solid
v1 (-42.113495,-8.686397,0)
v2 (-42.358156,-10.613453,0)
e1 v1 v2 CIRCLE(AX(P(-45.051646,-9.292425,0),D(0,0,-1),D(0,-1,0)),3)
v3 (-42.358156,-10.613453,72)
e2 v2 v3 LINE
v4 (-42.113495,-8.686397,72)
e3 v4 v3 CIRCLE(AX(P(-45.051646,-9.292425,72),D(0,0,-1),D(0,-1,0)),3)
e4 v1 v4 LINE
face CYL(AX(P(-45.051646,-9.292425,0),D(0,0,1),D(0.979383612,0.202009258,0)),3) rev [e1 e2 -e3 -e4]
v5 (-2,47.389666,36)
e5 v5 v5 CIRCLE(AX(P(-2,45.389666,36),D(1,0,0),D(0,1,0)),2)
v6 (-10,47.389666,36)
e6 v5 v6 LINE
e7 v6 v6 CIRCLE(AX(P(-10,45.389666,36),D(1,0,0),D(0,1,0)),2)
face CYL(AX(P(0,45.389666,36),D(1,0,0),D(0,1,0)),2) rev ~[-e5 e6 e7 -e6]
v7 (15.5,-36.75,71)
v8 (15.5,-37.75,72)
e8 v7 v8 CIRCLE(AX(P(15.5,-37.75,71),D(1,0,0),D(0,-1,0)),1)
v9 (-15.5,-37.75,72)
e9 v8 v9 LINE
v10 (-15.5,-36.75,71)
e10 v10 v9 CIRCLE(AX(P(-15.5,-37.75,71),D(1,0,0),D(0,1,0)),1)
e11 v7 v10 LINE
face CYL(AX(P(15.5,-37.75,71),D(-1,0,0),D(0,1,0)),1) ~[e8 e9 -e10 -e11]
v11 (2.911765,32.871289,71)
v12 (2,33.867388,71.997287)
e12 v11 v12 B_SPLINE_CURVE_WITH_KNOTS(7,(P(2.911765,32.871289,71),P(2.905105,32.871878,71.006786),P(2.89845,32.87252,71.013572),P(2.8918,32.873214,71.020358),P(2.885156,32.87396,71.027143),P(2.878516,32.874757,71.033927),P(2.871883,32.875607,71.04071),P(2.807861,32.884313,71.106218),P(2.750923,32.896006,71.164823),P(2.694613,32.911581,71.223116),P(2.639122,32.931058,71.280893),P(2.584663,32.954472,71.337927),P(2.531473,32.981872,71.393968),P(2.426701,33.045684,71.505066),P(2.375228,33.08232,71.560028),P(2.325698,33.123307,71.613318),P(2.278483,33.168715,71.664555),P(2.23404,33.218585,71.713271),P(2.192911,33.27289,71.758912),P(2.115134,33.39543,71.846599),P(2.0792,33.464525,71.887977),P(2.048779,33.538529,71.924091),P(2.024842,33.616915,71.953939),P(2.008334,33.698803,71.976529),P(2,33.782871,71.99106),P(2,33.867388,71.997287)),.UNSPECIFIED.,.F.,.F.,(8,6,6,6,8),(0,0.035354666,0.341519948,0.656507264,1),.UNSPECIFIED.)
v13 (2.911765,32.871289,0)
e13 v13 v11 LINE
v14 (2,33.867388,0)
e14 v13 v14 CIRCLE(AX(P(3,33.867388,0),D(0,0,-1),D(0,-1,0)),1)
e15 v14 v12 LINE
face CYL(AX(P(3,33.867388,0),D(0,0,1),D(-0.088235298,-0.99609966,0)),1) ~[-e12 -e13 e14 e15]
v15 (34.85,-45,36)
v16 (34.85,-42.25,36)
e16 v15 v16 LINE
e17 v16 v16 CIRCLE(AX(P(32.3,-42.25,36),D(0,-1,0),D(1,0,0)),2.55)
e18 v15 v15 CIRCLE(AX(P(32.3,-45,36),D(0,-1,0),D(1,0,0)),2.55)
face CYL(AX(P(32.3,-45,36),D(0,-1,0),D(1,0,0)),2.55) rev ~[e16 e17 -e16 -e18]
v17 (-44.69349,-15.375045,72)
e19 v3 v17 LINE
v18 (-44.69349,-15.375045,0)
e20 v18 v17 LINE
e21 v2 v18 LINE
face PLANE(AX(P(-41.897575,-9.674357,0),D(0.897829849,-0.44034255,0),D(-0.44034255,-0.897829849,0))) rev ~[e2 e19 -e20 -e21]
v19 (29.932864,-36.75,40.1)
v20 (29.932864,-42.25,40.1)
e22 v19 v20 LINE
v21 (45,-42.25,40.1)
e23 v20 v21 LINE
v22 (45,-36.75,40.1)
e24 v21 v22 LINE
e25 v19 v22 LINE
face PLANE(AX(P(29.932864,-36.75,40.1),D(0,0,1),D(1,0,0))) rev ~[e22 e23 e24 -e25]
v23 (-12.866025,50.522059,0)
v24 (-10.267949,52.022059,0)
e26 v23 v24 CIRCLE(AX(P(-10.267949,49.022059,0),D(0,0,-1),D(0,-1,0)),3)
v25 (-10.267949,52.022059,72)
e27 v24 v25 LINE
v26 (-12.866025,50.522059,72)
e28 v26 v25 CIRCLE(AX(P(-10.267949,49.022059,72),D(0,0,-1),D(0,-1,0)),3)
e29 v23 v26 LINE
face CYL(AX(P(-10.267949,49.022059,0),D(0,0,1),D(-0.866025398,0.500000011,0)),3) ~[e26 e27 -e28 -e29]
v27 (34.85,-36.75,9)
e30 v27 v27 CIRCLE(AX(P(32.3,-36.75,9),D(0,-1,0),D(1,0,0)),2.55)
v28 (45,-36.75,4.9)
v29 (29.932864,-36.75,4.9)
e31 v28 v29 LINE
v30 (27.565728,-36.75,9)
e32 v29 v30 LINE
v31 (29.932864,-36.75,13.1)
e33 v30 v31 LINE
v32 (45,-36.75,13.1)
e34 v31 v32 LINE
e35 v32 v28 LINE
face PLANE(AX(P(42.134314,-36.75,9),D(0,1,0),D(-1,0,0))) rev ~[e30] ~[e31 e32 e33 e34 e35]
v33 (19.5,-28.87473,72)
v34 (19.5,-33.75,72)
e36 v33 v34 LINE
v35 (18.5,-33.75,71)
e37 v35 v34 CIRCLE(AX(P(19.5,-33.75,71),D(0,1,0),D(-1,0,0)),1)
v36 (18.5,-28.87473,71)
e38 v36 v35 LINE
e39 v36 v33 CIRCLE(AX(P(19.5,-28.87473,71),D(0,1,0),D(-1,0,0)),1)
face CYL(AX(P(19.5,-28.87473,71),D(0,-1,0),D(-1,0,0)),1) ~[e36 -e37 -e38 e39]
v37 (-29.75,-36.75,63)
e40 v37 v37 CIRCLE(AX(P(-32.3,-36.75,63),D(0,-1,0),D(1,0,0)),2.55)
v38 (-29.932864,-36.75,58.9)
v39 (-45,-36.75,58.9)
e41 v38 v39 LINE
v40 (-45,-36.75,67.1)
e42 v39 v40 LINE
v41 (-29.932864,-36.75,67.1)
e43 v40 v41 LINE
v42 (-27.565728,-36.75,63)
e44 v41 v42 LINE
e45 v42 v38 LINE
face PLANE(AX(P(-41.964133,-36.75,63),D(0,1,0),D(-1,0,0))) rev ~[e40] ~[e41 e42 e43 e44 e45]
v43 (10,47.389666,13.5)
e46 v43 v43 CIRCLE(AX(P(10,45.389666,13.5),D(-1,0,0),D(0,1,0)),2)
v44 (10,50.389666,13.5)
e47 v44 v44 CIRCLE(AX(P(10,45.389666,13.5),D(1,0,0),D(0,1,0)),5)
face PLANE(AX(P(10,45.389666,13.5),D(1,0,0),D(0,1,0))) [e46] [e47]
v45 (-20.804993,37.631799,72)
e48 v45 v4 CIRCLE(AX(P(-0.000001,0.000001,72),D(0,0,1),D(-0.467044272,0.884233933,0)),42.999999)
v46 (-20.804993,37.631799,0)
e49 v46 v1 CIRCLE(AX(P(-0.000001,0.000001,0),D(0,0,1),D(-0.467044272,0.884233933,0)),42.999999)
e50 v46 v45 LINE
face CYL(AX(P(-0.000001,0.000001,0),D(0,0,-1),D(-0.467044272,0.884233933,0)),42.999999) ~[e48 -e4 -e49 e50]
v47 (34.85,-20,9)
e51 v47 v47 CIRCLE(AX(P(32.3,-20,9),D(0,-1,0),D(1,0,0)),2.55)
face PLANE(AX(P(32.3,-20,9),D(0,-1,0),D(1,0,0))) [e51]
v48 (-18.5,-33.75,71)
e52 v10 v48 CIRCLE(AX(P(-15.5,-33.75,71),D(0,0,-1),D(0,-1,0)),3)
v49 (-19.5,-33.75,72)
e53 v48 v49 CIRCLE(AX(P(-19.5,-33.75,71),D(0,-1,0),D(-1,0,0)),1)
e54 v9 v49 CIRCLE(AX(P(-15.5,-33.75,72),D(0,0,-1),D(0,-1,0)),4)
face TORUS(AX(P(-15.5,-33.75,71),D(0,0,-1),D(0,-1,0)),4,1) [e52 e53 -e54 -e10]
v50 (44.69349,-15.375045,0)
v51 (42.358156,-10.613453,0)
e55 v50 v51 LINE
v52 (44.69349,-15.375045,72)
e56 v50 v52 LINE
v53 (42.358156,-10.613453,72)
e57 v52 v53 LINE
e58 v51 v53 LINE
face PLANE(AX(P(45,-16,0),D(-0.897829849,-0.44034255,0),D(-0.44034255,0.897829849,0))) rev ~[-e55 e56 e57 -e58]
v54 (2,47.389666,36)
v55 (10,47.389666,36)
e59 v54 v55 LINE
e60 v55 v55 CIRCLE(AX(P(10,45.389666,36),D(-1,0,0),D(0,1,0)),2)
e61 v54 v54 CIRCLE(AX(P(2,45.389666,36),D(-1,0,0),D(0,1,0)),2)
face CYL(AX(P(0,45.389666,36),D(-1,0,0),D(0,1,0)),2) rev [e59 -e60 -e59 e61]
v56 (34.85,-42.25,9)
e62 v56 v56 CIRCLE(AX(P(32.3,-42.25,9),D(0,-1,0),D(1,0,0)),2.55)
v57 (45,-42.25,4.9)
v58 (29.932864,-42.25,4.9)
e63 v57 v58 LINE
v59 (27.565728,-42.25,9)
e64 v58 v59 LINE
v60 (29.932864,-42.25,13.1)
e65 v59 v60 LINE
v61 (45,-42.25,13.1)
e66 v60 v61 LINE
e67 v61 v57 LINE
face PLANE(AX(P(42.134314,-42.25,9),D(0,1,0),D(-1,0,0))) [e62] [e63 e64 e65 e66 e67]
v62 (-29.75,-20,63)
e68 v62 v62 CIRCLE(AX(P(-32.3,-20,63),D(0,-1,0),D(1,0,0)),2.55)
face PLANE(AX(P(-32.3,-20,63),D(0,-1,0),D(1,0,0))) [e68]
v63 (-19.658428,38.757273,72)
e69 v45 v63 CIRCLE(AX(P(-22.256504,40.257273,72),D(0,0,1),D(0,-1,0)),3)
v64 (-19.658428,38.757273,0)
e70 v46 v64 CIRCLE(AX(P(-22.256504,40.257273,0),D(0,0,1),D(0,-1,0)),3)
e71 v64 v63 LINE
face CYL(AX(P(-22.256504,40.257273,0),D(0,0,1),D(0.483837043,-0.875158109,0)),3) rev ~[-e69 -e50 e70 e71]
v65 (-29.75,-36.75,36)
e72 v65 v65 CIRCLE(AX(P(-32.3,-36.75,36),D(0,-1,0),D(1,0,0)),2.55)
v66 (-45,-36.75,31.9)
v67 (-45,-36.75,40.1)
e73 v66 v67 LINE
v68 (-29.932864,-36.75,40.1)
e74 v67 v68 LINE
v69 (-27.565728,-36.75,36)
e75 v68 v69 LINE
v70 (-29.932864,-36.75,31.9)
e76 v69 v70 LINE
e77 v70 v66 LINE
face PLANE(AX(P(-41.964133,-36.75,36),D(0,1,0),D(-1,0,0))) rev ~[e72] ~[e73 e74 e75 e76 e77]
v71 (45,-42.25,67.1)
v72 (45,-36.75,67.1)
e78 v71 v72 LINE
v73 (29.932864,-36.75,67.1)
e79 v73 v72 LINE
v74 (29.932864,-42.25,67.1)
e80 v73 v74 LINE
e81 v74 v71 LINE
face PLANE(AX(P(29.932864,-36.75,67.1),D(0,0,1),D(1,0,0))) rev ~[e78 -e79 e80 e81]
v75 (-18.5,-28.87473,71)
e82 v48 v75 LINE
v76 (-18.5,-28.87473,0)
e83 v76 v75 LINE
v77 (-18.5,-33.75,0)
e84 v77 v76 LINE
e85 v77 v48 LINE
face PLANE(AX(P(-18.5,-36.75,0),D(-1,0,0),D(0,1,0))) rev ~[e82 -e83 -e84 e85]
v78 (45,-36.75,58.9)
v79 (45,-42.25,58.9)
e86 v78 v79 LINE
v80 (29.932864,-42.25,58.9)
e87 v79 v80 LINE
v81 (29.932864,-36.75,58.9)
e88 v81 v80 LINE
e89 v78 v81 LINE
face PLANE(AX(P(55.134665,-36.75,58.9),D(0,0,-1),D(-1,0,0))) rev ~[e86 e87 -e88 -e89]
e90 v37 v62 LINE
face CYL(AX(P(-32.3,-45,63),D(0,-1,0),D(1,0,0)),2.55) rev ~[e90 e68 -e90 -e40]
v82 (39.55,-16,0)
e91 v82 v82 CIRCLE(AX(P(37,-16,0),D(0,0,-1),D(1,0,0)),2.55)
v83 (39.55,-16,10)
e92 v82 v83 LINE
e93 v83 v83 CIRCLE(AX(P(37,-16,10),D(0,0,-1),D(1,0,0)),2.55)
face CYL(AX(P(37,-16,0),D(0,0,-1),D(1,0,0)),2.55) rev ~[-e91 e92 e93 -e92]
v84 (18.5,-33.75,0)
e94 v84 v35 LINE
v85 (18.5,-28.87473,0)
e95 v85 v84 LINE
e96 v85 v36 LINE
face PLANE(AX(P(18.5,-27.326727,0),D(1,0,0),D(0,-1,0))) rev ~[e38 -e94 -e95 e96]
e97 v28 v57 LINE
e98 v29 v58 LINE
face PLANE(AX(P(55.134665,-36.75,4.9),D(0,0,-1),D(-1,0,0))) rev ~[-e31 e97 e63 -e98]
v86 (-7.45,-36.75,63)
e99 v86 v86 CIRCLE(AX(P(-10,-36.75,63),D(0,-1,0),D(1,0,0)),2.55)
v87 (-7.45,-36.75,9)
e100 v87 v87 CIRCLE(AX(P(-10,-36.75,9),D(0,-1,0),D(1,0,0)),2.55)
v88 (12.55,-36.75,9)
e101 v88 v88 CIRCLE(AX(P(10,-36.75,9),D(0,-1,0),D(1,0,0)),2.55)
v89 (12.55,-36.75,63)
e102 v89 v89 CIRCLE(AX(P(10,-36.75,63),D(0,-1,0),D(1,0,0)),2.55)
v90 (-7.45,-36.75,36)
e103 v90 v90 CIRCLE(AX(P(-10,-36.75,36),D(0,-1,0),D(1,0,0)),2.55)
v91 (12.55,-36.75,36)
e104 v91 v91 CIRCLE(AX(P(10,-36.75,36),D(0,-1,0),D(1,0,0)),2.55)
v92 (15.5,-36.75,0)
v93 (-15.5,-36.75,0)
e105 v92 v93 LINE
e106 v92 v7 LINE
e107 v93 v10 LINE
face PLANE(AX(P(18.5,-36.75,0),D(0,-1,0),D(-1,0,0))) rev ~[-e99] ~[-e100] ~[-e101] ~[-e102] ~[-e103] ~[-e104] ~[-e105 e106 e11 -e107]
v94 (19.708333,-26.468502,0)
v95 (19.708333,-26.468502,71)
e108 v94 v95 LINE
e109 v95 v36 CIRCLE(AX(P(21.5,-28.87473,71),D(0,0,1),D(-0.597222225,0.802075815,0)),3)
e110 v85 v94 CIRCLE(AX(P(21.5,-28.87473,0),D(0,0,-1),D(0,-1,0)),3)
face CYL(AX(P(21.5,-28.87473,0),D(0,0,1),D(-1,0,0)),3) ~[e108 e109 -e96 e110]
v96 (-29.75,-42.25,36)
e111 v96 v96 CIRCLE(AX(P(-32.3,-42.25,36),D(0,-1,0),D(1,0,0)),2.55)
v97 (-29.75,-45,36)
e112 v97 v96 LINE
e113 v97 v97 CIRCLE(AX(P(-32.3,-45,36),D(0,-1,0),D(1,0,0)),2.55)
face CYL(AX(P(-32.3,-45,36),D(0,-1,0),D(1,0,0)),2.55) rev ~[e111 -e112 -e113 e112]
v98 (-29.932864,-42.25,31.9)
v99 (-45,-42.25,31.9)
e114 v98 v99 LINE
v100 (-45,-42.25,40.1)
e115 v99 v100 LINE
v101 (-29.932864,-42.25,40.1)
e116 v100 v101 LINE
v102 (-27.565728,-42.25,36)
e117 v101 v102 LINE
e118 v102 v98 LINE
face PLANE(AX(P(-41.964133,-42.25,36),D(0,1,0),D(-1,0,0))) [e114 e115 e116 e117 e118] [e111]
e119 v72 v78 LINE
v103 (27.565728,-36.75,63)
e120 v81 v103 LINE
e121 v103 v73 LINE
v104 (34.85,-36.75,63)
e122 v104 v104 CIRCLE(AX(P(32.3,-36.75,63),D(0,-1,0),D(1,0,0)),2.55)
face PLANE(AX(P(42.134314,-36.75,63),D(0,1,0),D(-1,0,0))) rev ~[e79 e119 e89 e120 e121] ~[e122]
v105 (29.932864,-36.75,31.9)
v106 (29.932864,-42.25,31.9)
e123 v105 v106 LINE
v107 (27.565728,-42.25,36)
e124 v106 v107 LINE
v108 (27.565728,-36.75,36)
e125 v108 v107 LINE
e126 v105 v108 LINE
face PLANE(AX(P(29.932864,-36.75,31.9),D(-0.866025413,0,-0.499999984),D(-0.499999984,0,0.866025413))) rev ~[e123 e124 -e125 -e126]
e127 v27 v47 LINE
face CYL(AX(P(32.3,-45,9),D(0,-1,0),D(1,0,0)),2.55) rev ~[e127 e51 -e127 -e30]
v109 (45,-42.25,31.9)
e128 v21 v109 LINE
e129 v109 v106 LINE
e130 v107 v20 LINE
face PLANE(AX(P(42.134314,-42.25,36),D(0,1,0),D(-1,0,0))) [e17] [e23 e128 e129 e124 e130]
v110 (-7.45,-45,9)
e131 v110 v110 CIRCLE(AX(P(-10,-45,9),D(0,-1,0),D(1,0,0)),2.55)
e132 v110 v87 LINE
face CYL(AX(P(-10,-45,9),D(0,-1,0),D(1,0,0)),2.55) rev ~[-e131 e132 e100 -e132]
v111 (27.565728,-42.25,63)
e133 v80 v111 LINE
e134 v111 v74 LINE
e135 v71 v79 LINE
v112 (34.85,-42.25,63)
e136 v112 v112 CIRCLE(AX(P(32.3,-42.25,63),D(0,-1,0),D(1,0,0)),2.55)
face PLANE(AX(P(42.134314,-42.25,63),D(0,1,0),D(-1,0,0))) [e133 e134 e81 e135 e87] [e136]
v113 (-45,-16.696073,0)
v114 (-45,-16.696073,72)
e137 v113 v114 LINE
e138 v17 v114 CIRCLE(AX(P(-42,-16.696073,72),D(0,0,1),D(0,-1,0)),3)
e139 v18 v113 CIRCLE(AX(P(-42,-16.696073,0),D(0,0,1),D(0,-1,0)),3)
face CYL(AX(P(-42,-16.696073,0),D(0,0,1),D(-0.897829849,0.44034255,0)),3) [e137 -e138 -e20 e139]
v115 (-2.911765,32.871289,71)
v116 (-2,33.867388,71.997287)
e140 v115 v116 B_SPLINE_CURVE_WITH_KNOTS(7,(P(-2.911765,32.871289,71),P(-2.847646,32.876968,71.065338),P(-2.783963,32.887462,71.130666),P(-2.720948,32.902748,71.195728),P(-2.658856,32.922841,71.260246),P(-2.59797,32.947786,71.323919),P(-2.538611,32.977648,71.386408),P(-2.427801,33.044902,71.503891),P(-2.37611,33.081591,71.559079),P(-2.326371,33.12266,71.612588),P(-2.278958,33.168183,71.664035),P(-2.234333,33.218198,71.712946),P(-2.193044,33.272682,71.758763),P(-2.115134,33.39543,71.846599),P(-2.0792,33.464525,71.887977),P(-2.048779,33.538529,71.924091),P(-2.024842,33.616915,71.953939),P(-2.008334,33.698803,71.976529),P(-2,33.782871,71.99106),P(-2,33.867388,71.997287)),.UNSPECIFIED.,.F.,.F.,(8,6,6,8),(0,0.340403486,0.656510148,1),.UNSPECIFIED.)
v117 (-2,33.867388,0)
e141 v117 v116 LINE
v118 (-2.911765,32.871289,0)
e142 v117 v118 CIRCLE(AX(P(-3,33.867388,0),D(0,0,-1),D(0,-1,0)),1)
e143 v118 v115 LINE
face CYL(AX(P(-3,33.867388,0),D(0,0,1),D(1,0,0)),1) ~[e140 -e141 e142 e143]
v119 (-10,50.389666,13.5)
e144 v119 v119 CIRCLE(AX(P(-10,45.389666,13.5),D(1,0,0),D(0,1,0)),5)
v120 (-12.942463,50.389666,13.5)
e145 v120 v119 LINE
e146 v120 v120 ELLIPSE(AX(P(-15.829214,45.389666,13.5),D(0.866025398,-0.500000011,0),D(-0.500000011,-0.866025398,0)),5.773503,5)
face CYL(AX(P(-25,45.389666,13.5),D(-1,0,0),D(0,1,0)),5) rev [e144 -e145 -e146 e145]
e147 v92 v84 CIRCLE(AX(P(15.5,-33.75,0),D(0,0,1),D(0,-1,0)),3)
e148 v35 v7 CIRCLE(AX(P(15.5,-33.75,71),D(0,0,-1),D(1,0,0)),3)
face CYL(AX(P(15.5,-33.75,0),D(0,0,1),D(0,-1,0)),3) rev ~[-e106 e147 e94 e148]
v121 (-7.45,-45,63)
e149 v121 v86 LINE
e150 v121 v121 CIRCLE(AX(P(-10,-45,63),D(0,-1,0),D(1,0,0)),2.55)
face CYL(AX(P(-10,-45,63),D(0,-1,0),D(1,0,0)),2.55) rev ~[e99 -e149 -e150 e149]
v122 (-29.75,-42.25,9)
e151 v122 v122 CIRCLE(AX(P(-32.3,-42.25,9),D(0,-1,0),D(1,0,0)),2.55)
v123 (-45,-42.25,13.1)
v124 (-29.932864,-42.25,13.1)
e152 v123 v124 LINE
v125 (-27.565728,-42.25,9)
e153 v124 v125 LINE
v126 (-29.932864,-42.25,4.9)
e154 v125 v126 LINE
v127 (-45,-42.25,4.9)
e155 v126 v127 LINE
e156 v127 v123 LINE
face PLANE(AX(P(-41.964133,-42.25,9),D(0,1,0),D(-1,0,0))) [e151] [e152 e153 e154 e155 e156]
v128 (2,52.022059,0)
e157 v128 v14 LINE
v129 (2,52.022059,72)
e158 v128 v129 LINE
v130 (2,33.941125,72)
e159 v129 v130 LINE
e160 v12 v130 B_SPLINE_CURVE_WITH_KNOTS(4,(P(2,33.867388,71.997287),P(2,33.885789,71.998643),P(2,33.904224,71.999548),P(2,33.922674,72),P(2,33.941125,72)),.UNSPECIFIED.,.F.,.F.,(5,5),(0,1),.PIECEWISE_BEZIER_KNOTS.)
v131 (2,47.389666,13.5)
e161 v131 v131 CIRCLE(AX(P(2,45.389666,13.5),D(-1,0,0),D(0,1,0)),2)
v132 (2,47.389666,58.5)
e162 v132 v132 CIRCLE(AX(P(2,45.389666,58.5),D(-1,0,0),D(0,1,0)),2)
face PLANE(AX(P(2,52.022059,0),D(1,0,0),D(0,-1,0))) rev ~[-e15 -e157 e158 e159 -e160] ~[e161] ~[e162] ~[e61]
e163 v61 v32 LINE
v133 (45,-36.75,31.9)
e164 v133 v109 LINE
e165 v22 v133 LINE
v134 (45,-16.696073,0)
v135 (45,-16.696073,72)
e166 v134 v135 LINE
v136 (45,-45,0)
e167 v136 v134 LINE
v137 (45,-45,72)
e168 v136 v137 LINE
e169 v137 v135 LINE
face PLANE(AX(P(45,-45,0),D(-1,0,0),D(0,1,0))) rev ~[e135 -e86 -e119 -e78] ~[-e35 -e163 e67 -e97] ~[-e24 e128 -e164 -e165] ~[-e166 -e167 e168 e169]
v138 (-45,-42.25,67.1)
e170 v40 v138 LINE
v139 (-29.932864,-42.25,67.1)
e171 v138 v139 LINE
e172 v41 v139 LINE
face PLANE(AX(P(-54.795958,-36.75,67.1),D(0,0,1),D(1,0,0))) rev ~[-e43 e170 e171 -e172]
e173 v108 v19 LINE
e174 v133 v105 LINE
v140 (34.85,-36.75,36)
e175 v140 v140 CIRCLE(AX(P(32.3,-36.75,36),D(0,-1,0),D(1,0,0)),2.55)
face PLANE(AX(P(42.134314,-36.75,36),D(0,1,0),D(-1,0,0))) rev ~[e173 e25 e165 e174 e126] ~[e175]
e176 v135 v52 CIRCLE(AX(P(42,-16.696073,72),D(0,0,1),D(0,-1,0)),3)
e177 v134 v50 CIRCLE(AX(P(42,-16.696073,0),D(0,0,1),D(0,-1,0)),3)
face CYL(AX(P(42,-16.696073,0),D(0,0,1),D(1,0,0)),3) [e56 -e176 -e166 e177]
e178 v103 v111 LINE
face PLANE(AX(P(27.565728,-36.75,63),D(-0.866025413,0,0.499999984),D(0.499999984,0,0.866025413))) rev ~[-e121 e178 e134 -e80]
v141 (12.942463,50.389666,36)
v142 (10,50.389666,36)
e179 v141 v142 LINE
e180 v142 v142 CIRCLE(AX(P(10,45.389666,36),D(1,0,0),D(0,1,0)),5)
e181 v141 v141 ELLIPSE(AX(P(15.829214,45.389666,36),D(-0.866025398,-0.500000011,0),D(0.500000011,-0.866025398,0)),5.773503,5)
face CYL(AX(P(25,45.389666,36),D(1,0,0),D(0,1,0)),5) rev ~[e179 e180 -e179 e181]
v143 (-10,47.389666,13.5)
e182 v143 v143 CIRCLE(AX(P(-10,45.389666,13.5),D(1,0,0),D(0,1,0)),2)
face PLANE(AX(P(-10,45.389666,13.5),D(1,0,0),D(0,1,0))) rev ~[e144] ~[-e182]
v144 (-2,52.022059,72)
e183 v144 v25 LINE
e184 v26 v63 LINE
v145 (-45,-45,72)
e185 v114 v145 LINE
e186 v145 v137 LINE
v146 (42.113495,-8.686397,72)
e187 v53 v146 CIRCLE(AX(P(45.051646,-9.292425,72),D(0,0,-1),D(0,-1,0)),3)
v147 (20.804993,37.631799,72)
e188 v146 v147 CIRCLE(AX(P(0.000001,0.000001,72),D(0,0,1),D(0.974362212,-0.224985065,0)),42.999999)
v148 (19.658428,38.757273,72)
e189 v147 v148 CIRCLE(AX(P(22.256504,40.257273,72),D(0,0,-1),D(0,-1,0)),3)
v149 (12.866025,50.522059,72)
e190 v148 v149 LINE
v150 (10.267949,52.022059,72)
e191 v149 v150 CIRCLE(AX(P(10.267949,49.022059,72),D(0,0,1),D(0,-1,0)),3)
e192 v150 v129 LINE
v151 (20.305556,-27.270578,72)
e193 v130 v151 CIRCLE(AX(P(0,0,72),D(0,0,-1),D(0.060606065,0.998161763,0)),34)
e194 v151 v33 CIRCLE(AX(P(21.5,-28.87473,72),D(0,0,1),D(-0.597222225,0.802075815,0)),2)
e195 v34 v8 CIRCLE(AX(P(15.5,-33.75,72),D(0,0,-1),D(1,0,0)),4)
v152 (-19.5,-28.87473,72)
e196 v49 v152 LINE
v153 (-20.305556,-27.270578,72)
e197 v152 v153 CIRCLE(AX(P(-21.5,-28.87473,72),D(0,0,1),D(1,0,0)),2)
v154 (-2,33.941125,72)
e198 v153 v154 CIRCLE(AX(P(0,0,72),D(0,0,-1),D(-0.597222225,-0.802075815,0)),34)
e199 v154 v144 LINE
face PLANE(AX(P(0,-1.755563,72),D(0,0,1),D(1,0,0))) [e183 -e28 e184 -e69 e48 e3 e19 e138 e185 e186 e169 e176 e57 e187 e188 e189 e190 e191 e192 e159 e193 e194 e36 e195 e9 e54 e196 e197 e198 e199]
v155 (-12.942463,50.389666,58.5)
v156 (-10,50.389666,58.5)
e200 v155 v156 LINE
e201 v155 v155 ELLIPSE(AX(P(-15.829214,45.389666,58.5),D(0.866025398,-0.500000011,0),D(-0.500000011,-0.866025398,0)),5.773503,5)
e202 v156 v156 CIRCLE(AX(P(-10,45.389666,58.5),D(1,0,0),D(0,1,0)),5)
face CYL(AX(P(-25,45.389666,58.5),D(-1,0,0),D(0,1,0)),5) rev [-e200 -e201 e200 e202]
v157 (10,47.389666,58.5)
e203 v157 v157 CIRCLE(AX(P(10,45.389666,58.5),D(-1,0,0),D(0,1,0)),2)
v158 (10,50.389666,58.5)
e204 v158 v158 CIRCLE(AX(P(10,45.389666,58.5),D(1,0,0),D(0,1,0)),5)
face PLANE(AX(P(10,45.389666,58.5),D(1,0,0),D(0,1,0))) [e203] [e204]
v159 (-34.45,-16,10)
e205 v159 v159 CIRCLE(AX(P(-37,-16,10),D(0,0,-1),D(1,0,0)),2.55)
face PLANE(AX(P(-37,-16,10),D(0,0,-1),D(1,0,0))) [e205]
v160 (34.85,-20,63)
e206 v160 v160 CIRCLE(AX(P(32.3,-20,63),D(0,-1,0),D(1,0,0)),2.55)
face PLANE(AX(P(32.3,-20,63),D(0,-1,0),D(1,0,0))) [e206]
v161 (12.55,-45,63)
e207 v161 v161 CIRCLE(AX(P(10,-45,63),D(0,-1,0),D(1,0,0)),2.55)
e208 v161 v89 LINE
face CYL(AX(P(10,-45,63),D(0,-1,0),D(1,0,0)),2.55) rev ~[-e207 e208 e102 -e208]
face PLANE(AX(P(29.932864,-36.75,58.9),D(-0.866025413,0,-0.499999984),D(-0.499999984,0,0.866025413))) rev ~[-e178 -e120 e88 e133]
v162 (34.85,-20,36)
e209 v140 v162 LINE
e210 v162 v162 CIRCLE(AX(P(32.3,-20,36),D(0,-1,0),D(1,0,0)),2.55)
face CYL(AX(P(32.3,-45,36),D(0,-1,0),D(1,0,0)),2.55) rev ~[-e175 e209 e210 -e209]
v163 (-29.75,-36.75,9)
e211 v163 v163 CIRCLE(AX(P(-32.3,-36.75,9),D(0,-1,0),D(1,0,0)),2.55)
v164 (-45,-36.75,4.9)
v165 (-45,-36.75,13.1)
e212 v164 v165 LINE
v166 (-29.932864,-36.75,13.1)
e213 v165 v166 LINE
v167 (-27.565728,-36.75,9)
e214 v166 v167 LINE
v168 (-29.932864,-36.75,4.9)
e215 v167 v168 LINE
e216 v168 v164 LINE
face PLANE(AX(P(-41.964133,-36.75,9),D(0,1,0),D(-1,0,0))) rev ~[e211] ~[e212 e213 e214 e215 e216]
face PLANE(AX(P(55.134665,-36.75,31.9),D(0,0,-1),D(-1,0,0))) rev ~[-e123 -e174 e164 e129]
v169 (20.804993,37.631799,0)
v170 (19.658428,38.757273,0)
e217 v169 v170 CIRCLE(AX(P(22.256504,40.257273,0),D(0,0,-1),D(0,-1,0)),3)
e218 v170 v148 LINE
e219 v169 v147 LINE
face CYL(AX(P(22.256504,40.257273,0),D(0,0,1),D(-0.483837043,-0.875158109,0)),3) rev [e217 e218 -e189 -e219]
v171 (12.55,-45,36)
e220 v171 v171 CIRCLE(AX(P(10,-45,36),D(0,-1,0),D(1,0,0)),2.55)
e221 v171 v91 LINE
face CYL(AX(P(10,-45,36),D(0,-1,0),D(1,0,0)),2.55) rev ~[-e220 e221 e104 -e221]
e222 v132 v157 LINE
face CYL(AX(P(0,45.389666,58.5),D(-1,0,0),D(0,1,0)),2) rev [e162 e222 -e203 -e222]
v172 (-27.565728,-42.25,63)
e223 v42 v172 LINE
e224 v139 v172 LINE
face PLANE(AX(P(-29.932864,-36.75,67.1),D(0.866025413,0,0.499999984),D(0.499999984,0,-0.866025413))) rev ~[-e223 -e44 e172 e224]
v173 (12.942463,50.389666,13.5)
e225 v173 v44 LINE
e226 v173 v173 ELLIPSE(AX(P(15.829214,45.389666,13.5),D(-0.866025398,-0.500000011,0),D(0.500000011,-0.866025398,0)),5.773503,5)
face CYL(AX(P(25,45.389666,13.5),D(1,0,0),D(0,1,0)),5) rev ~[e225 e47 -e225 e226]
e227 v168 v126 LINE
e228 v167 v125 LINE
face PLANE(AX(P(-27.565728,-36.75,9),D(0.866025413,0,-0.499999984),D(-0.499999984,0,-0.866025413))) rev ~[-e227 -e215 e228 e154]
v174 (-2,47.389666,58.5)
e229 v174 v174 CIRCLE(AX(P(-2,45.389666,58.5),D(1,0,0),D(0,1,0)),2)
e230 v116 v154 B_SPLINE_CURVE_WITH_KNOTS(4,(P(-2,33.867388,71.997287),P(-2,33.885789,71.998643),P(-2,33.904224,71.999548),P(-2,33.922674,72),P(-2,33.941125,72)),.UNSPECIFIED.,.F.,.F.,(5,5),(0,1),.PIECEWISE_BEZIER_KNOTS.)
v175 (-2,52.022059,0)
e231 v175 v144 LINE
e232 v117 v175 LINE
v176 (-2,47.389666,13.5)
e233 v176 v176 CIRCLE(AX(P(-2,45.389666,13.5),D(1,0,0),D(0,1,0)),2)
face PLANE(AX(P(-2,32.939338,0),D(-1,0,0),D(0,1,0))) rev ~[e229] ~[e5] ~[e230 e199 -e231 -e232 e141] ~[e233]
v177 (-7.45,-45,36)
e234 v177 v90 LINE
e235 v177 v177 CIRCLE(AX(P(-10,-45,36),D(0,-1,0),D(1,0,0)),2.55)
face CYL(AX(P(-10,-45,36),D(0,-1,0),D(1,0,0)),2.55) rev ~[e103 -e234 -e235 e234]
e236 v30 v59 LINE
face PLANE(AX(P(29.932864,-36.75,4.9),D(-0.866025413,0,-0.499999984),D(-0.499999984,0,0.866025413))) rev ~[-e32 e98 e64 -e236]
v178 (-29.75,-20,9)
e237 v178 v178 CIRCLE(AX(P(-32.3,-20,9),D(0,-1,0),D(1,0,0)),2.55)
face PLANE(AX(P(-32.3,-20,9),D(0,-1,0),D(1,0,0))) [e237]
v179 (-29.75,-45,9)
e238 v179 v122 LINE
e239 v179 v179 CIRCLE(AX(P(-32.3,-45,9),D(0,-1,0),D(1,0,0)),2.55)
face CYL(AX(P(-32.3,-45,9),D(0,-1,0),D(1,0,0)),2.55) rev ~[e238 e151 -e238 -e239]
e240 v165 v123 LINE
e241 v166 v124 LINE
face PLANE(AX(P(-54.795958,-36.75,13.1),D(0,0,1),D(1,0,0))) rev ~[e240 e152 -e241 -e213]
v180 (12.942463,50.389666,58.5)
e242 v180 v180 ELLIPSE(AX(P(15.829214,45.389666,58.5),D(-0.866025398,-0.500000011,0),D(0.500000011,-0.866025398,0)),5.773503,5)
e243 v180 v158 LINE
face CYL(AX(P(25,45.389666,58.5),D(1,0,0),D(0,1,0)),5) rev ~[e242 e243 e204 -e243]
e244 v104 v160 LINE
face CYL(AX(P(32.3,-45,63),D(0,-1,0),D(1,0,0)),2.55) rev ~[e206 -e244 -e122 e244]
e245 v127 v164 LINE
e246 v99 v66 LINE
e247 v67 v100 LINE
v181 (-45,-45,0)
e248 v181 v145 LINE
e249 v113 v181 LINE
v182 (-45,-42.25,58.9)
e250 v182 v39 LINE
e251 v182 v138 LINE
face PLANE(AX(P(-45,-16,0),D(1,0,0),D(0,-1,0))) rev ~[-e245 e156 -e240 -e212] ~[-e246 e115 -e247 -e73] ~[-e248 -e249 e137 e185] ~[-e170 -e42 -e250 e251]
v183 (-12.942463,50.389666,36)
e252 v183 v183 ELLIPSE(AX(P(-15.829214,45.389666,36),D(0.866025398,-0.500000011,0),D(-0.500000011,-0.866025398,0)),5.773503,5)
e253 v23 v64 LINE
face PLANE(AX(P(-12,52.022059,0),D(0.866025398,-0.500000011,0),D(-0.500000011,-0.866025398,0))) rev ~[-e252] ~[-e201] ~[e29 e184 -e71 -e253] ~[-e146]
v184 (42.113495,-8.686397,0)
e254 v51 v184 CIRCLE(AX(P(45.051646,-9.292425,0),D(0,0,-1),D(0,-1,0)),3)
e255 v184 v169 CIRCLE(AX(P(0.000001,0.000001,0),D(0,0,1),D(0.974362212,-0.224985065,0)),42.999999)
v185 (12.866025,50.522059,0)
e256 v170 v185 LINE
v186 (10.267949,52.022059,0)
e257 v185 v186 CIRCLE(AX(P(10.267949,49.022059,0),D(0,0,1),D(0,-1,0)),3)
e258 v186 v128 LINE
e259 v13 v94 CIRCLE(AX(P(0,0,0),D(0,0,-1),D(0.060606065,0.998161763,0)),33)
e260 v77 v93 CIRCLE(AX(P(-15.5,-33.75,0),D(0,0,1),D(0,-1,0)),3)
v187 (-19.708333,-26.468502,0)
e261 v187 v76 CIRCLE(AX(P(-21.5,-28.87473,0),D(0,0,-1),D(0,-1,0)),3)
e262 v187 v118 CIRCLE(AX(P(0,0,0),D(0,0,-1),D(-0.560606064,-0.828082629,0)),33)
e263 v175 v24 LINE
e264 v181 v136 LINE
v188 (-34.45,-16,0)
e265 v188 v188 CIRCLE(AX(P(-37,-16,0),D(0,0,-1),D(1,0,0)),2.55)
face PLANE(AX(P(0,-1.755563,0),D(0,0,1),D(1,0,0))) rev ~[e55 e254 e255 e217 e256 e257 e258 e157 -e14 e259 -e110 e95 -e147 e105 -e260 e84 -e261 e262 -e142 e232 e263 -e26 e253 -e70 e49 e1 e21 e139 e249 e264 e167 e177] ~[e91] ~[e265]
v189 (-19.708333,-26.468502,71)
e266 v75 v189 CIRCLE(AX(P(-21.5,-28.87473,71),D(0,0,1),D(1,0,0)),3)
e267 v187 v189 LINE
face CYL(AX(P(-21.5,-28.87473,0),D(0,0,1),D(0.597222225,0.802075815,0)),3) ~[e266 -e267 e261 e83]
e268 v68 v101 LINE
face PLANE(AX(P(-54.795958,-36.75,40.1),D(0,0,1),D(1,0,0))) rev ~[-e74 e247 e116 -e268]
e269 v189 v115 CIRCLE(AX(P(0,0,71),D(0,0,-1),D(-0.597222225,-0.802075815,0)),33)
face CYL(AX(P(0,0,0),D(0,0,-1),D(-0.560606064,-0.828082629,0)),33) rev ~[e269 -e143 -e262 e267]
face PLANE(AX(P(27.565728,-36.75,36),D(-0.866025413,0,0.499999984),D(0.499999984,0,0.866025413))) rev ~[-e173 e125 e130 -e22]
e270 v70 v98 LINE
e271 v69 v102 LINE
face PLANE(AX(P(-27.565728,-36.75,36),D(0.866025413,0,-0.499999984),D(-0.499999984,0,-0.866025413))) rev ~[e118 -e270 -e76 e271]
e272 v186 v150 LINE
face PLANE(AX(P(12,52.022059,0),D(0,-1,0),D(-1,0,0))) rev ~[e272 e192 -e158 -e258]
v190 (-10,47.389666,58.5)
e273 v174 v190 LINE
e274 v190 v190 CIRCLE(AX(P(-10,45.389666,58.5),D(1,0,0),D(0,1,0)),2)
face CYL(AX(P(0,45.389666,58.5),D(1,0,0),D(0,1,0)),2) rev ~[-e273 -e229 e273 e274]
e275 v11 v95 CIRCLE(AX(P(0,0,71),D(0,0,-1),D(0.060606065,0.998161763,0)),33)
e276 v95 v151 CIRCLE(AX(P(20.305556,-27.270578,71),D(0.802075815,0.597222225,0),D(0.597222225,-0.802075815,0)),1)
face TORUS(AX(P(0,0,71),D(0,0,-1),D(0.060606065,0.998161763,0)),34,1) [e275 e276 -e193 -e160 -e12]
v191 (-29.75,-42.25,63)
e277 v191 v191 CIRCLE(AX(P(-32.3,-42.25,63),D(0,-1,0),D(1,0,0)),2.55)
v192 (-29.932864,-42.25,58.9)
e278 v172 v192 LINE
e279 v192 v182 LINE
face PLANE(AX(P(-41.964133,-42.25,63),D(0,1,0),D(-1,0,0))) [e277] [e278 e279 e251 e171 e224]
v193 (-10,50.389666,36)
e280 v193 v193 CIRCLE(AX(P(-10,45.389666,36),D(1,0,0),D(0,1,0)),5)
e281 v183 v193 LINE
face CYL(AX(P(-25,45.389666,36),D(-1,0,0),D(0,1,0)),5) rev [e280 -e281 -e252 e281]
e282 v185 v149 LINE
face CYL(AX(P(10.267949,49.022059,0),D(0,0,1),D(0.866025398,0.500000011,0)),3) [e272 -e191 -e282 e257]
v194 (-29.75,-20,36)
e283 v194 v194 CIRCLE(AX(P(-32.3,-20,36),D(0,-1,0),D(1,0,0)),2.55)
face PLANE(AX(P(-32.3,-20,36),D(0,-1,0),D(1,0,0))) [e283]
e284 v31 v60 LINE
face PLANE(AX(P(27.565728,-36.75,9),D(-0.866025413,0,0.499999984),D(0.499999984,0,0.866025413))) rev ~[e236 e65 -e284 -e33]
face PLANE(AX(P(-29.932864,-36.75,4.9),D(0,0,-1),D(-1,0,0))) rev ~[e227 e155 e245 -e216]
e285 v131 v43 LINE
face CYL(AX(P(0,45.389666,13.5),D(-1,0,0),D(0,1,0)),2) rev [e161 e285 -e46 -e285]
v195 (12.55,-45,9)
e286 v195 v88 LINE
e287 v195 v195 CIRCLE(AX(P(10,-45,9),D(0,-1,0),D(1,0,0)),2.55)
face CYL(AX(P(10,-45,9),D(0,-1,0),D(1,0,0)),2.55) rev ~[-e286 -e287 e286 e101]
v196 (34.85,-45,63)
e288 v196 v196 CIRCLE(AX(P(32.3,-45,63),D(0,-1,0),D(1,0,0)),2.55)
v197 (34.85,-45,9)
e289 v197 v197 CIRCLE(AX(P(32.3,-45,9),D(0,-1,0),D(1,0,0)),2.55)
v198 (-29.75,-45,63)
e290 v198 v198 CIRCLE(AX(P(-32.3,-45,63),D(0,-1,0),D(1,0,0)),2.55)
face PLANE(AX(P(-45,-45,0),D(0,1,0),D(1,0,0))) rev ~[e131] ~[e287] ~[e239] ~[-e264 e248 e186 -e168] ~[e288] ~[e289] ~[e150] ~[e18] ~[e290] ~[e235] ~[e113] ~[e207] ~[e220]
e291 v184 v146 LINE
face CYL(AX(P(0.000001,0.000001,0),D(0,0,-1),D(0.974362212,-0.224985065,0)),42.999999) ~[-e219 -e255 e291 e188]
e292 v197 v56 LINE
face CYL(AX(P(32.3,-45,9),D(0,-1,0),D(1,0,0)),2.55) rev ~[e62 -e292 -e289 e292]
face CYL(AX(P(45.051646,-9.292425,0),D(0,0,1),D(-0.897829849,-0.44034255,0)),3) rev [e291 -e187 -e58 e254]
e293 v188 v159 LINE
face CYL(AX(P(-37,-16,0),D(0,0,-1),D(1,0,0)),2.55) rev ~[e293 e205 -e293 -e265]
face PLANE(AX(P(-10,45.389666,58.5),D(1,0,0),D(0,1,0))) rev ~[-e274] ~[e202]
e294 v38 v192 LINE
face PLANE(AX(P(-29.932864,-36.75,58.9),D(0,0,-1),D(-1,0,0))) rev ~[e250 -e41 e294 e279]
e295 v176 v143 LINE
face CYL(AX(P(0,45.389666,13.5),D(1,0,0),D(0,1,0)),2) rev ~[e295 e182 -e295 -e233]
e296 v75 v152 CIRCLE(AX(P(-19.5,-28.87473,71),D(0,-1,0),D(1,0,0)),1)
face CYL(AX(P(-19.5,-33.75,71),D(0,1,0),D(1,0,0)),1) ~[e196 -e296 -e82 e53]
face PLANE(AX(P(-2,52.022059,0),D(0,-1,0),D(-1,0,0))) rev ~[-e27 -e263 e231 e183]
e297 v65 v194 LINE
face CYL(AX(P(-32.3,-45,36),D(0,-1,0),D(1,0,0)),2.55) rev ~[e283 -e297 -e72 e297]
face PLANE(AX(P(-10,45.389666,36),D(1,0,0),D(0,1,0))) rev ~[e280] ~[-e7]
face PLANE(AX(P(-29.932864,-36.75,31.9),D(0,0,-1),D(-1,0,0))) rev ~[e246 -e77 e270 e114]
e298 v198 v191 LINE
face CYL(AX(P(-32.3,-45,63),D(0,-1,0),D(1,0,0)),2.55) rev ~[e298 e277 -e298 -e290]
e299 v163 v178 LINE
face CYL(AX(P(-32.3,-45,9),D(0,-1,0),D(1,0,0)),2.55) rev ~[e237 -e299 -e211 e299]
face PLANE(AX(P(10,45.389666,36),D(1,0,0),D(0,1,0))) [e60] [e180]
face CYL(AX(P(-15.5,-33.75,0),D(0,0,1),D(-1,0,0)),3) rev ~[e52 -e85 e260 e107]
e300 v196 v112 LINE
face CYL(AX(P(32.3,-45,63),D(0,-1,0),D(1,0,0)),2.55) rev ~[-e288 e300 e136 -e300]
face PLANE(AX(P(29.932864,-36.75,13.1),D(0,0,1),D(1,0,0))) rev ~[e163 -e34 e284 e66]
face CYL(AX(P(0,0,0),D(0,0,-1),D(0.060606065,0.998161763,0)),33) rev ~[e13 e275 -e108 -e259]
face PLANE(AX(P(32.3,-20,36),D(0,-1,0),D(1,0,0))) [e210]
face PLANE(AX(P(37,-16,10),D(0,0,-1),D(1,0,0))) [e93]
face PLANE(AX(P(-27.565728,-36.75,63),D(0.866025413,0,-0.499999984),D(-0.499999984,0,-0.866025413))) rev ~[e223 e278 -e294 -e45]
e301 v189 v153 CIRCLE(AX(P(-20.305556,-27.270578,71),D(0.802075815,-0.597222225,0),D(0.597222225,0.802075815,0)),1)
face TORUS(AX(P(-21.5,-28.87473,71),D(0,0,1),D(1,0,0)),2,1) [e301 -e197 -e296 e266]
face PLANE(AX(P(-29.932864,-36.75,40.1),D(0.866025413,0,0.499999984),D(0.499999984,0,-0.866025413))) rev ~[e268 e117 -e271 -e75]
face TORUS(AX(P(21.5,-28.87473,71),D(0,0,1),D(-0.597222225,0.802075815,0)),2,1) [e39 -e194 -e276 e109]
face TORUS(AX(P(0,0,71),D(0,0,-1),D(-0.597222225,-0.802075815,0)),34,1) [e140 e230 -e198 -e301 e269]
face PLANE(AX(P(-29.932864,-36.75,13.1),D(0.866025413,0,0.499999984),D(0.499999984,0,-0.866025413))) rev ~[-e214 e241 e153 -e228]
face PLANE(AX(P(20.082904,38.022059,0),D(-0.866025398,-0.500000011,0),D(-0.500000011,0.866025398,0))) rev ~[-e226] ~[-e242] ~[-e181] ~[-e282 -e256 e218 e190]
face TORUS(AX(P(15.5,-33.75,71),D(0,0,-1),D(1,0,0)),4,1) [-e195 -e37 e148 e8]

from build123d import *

# Parameters (mm, degrees)
F1_DEPTH       = 72
F2_R           = 2.55
F3_DEPTH       = 25
F4_R           = 2.55
F5_DEPTH       = 10
F6_R           = 3
F7_R           = 3
F8_R           = 3
F9_R           = 2
F10_DEPTH      = 25
F10_DEPTH_BACK = 25
F13_R          = 5
F14_DEPTH      = 15
F15_R          = 5
F16_DEPTH      = 15
F18_DEPTH      = 5.5
F19_R          = 3
F20_R          = 1


with BuildPart() as f1:
    # F0 (on Top) → F1 (new body)
    with BuildSketch(Plane.XY):
        with BuildLine():
            Line((-41.897575, -9.674357), (-45, -16))
            Line((-45, -16), (-45, -45))
            Line((-45, -45), (45, -45))
            Line((45, -45), (45, -16))
            Line((45, -16), (41.897575, -9.674357))
            ThreePointArc((41.897575, -9.674357), (39.104117, 17.884855), (20.082904, 38.022059))
            Line((20.082904, 38.022059), (12, 52.022059))
            Line((12, 52.022059), (2, 52.022059))
            Line((2, 52.022059), (2, 32.939338))
            ThreePointArc((2, 32.939338), (31.828637, 8.714233), (18.5, -27.326727))
            Line((18.5, -27.326727), (18.5, -36.75))
            Line((18.5, -36.75), (-18.5, -36.75))
            Line((-18.5, -36.75), (-18.5, -27.326727))
            ThreePointArc((-18.5, -27.326727), (-31.828637, 8.714233), (-2, 32.939338))
            Line((-2, 32.939338), (-2, 52.022059))
            Line((-2, 52.022059), (-12, 52.022059))
            Line((-12, 52.022059), (-20.082904, 38.022059))
            ThreePointArc((-20.082904, 38.022059), (-39.104117, 17.884855), (-41.897575, -9.674357))
        make_face()
    extrude(amount=F1_DEPTH)

    # F2 (on face) → F3 (cut)
    with BuildSketch(Plane.XZ.offset(45)):
        with Locations((-32.3, 9)):
            Circle(F2_R)
        with Locations((-10, 9)):
            Circle(F2_R)
        with Locations((10, 9)):
            Circle(F2_R)
        with Locations((32.3, 9)):
            Circle(F2_R)
        with Locations((32.3, 36)):
            Circle(F2_R)
        with Locations((10, 36)):
            Circle(F2_R)
        with Locations((-10, 36)):
            Circle(F2_R)
        with Locations((-32.3, 36)):
            Circle(F2_R)
        with Locations((-32.3, 63)):
            Circle(F2_R)
        with Locations((-10, 63)):
            Circle(F2_R)
        with Locations((10, 63)):
            Circle(F2_R)
        with Locations((32.3, 63)):
            Circle(F2_R)
    extrude(amount=-F3_DEPTH, mode=Mode.SUBTRACT)

    # F4 (on face) → F5 (cut)
    with BuildSketch(Plane(origin=(0, 0, 0), x_dir=(1, 0, 0), z_dir=(0, 0, -1))):
        with Locations((-37, 16)):
            Circle(F4_R)
        with Locations((37, 16)):
            Circle(F4_R)
    extrude(amount=-F5_DEPTH, mode=Mode.SUBTRACT)

    # F6
    f6_edges = [f1.edges().sort_by_distance(p)[0] for p in [
        (18.5, -27.326727, 36),
        (18.5, -36.75, 36),
        (-18.5, -27.326727, 36),
        (-18.5, -36.75, 36),
    ]]
    fillet(f6_edges, radius=F6_R)

    # F7
    f7_edges = [f1.edges().sort_by_distance(p)[0] for p in [
        (-41.897575, -9.674357, 36),
        (-45, -16, 36),
        (41.897575, -9.674357, 36),
        (45, -16, 36),
    ]]
    fillet(f7_edges, radius=F7_R)

    # F8
    f8_edges = [f1.edges().sort_by_distance(p)[0] for p in [
        (-20.082904, 38.022059, 36),
        (20.082904, 38.022059, 36),
    ]]
    fillet(f8_edges, radius=F8_R)

    # F9 (on Right) → F10 (cut, two sides)
    with BuildSketch(Plane.YZ) as f10_sk:
        with Locations((45.389666, 58.5)):
            Circle(F9_R)
        with Locations((45.389666, 36)):
            Circle(F9_R)
        with Locations((45.389666, 13.5)):
            Circle(F9_R)
    extrude(amount=F10_DEPTH, mode=Mode.SUBTRACT)
    extrude(f10_sk.sketch, amount=-F10_DEPTH_BACK, mode=Mode.SUBTRACT)

    # F13 (on offset) → F14 (cut)
    with BuildSketch(Plane.YZ.offset(25)):
        with Locations((45.389666, 58.5)):
            Circle(F13_R)
        with Locations((45.389666, 36)):
            Circle(F13_R)
        with Locations((45.389666, 13.5)):
            Circle(F13_R)
    extrude(amount=-F14_DEPTH, mode=Mode.SUBTRACT)

    # F15 (on offset) → F16 (cut)
    with BuildSketch(Plane.YZ.offset(-25)):
        with Locations((45.389666, 58.5)):
            Circle(F15_R)
        with Locations((45.389666, 36)):
            Circle(F15_R)
        with Locations((45.389666, 13.5)):
            Circle(F15_R)
    extrude(amount=F16_DEPTH, mode=Mode.SUBTRACT)

    # F17 (on face) → F18 (cut)
    with BuildSketch(Plane(origin=(0, -36.75, 0), x_dir=(-1, 0, 0), z_dir=(0, 1, 0))):
        Polygon((27.565728, 36), (29.932864, 31.9), (34.667136, 31.9), (54.795958, 31.9), (54.795958, 40.1), (34.667136, 40.1), (29.932864, 40.1), align=None)
        Polygon((27.565728, 63), (29.932864, 58.9), (34.667136, 58.9), (54.795958, 58.9), (54.795958, 67.1), (34.667136, 67.1), (29.932864, 67.1), align=None)
        Polygon((27.565728, 9), (29.932864, 4.9), (34.667136, 4.9), (54.795958, 4.9), (54.795958, 13.1), (34.667136, 13.1), (29.932864, 13.1), align=None)
        Polygon((-29.932864, 13.1), (-34.667136, 13.1), (-55.134665, 13.1), (-55.134665, 4.9), (-34.667136, 4.9), (-29.932864, 4.9), (-27.565728, 9), align=None)
        Polygon((-29.932864, 40.1), (-34.667136, 40.1), (-55.134665, 40.1), (-55.134665, 31.9), (-34.667136, 31.9), (-29.932864, 31.9), (-27.565728, 36), align=None)
        Polygon((-29.932864, 67.1), (-34.667136, 67.1), (-55.134665, 67.1), (-55.134665, 58.9), (-34.667136, 58.9), (-29.932864, 58.9), (-27.565728, 63), align=None)
    extrude(amount=-F18_DEPTH, mode=Mode.SUBTRACT)

    # F19
    f19_edges = [f1.edges().sort_by_distance(p)[0] for p in [
        (-12, 52.022059, 36),
        (12, 52.022059, 36),
    ]]
    fillet(f19_edges, radius=F19_R)

    # F20
    f20_edges = [f1.edges().sort_by_distance(p)[0] for p in [
        (2, 32.939338, 36),
        (-2, 32.939338, 36),
        (31.624924, 9.426781, 72),
    ]]
    fillet(f20_edges, radius=F20_R)


solid = f1.part
